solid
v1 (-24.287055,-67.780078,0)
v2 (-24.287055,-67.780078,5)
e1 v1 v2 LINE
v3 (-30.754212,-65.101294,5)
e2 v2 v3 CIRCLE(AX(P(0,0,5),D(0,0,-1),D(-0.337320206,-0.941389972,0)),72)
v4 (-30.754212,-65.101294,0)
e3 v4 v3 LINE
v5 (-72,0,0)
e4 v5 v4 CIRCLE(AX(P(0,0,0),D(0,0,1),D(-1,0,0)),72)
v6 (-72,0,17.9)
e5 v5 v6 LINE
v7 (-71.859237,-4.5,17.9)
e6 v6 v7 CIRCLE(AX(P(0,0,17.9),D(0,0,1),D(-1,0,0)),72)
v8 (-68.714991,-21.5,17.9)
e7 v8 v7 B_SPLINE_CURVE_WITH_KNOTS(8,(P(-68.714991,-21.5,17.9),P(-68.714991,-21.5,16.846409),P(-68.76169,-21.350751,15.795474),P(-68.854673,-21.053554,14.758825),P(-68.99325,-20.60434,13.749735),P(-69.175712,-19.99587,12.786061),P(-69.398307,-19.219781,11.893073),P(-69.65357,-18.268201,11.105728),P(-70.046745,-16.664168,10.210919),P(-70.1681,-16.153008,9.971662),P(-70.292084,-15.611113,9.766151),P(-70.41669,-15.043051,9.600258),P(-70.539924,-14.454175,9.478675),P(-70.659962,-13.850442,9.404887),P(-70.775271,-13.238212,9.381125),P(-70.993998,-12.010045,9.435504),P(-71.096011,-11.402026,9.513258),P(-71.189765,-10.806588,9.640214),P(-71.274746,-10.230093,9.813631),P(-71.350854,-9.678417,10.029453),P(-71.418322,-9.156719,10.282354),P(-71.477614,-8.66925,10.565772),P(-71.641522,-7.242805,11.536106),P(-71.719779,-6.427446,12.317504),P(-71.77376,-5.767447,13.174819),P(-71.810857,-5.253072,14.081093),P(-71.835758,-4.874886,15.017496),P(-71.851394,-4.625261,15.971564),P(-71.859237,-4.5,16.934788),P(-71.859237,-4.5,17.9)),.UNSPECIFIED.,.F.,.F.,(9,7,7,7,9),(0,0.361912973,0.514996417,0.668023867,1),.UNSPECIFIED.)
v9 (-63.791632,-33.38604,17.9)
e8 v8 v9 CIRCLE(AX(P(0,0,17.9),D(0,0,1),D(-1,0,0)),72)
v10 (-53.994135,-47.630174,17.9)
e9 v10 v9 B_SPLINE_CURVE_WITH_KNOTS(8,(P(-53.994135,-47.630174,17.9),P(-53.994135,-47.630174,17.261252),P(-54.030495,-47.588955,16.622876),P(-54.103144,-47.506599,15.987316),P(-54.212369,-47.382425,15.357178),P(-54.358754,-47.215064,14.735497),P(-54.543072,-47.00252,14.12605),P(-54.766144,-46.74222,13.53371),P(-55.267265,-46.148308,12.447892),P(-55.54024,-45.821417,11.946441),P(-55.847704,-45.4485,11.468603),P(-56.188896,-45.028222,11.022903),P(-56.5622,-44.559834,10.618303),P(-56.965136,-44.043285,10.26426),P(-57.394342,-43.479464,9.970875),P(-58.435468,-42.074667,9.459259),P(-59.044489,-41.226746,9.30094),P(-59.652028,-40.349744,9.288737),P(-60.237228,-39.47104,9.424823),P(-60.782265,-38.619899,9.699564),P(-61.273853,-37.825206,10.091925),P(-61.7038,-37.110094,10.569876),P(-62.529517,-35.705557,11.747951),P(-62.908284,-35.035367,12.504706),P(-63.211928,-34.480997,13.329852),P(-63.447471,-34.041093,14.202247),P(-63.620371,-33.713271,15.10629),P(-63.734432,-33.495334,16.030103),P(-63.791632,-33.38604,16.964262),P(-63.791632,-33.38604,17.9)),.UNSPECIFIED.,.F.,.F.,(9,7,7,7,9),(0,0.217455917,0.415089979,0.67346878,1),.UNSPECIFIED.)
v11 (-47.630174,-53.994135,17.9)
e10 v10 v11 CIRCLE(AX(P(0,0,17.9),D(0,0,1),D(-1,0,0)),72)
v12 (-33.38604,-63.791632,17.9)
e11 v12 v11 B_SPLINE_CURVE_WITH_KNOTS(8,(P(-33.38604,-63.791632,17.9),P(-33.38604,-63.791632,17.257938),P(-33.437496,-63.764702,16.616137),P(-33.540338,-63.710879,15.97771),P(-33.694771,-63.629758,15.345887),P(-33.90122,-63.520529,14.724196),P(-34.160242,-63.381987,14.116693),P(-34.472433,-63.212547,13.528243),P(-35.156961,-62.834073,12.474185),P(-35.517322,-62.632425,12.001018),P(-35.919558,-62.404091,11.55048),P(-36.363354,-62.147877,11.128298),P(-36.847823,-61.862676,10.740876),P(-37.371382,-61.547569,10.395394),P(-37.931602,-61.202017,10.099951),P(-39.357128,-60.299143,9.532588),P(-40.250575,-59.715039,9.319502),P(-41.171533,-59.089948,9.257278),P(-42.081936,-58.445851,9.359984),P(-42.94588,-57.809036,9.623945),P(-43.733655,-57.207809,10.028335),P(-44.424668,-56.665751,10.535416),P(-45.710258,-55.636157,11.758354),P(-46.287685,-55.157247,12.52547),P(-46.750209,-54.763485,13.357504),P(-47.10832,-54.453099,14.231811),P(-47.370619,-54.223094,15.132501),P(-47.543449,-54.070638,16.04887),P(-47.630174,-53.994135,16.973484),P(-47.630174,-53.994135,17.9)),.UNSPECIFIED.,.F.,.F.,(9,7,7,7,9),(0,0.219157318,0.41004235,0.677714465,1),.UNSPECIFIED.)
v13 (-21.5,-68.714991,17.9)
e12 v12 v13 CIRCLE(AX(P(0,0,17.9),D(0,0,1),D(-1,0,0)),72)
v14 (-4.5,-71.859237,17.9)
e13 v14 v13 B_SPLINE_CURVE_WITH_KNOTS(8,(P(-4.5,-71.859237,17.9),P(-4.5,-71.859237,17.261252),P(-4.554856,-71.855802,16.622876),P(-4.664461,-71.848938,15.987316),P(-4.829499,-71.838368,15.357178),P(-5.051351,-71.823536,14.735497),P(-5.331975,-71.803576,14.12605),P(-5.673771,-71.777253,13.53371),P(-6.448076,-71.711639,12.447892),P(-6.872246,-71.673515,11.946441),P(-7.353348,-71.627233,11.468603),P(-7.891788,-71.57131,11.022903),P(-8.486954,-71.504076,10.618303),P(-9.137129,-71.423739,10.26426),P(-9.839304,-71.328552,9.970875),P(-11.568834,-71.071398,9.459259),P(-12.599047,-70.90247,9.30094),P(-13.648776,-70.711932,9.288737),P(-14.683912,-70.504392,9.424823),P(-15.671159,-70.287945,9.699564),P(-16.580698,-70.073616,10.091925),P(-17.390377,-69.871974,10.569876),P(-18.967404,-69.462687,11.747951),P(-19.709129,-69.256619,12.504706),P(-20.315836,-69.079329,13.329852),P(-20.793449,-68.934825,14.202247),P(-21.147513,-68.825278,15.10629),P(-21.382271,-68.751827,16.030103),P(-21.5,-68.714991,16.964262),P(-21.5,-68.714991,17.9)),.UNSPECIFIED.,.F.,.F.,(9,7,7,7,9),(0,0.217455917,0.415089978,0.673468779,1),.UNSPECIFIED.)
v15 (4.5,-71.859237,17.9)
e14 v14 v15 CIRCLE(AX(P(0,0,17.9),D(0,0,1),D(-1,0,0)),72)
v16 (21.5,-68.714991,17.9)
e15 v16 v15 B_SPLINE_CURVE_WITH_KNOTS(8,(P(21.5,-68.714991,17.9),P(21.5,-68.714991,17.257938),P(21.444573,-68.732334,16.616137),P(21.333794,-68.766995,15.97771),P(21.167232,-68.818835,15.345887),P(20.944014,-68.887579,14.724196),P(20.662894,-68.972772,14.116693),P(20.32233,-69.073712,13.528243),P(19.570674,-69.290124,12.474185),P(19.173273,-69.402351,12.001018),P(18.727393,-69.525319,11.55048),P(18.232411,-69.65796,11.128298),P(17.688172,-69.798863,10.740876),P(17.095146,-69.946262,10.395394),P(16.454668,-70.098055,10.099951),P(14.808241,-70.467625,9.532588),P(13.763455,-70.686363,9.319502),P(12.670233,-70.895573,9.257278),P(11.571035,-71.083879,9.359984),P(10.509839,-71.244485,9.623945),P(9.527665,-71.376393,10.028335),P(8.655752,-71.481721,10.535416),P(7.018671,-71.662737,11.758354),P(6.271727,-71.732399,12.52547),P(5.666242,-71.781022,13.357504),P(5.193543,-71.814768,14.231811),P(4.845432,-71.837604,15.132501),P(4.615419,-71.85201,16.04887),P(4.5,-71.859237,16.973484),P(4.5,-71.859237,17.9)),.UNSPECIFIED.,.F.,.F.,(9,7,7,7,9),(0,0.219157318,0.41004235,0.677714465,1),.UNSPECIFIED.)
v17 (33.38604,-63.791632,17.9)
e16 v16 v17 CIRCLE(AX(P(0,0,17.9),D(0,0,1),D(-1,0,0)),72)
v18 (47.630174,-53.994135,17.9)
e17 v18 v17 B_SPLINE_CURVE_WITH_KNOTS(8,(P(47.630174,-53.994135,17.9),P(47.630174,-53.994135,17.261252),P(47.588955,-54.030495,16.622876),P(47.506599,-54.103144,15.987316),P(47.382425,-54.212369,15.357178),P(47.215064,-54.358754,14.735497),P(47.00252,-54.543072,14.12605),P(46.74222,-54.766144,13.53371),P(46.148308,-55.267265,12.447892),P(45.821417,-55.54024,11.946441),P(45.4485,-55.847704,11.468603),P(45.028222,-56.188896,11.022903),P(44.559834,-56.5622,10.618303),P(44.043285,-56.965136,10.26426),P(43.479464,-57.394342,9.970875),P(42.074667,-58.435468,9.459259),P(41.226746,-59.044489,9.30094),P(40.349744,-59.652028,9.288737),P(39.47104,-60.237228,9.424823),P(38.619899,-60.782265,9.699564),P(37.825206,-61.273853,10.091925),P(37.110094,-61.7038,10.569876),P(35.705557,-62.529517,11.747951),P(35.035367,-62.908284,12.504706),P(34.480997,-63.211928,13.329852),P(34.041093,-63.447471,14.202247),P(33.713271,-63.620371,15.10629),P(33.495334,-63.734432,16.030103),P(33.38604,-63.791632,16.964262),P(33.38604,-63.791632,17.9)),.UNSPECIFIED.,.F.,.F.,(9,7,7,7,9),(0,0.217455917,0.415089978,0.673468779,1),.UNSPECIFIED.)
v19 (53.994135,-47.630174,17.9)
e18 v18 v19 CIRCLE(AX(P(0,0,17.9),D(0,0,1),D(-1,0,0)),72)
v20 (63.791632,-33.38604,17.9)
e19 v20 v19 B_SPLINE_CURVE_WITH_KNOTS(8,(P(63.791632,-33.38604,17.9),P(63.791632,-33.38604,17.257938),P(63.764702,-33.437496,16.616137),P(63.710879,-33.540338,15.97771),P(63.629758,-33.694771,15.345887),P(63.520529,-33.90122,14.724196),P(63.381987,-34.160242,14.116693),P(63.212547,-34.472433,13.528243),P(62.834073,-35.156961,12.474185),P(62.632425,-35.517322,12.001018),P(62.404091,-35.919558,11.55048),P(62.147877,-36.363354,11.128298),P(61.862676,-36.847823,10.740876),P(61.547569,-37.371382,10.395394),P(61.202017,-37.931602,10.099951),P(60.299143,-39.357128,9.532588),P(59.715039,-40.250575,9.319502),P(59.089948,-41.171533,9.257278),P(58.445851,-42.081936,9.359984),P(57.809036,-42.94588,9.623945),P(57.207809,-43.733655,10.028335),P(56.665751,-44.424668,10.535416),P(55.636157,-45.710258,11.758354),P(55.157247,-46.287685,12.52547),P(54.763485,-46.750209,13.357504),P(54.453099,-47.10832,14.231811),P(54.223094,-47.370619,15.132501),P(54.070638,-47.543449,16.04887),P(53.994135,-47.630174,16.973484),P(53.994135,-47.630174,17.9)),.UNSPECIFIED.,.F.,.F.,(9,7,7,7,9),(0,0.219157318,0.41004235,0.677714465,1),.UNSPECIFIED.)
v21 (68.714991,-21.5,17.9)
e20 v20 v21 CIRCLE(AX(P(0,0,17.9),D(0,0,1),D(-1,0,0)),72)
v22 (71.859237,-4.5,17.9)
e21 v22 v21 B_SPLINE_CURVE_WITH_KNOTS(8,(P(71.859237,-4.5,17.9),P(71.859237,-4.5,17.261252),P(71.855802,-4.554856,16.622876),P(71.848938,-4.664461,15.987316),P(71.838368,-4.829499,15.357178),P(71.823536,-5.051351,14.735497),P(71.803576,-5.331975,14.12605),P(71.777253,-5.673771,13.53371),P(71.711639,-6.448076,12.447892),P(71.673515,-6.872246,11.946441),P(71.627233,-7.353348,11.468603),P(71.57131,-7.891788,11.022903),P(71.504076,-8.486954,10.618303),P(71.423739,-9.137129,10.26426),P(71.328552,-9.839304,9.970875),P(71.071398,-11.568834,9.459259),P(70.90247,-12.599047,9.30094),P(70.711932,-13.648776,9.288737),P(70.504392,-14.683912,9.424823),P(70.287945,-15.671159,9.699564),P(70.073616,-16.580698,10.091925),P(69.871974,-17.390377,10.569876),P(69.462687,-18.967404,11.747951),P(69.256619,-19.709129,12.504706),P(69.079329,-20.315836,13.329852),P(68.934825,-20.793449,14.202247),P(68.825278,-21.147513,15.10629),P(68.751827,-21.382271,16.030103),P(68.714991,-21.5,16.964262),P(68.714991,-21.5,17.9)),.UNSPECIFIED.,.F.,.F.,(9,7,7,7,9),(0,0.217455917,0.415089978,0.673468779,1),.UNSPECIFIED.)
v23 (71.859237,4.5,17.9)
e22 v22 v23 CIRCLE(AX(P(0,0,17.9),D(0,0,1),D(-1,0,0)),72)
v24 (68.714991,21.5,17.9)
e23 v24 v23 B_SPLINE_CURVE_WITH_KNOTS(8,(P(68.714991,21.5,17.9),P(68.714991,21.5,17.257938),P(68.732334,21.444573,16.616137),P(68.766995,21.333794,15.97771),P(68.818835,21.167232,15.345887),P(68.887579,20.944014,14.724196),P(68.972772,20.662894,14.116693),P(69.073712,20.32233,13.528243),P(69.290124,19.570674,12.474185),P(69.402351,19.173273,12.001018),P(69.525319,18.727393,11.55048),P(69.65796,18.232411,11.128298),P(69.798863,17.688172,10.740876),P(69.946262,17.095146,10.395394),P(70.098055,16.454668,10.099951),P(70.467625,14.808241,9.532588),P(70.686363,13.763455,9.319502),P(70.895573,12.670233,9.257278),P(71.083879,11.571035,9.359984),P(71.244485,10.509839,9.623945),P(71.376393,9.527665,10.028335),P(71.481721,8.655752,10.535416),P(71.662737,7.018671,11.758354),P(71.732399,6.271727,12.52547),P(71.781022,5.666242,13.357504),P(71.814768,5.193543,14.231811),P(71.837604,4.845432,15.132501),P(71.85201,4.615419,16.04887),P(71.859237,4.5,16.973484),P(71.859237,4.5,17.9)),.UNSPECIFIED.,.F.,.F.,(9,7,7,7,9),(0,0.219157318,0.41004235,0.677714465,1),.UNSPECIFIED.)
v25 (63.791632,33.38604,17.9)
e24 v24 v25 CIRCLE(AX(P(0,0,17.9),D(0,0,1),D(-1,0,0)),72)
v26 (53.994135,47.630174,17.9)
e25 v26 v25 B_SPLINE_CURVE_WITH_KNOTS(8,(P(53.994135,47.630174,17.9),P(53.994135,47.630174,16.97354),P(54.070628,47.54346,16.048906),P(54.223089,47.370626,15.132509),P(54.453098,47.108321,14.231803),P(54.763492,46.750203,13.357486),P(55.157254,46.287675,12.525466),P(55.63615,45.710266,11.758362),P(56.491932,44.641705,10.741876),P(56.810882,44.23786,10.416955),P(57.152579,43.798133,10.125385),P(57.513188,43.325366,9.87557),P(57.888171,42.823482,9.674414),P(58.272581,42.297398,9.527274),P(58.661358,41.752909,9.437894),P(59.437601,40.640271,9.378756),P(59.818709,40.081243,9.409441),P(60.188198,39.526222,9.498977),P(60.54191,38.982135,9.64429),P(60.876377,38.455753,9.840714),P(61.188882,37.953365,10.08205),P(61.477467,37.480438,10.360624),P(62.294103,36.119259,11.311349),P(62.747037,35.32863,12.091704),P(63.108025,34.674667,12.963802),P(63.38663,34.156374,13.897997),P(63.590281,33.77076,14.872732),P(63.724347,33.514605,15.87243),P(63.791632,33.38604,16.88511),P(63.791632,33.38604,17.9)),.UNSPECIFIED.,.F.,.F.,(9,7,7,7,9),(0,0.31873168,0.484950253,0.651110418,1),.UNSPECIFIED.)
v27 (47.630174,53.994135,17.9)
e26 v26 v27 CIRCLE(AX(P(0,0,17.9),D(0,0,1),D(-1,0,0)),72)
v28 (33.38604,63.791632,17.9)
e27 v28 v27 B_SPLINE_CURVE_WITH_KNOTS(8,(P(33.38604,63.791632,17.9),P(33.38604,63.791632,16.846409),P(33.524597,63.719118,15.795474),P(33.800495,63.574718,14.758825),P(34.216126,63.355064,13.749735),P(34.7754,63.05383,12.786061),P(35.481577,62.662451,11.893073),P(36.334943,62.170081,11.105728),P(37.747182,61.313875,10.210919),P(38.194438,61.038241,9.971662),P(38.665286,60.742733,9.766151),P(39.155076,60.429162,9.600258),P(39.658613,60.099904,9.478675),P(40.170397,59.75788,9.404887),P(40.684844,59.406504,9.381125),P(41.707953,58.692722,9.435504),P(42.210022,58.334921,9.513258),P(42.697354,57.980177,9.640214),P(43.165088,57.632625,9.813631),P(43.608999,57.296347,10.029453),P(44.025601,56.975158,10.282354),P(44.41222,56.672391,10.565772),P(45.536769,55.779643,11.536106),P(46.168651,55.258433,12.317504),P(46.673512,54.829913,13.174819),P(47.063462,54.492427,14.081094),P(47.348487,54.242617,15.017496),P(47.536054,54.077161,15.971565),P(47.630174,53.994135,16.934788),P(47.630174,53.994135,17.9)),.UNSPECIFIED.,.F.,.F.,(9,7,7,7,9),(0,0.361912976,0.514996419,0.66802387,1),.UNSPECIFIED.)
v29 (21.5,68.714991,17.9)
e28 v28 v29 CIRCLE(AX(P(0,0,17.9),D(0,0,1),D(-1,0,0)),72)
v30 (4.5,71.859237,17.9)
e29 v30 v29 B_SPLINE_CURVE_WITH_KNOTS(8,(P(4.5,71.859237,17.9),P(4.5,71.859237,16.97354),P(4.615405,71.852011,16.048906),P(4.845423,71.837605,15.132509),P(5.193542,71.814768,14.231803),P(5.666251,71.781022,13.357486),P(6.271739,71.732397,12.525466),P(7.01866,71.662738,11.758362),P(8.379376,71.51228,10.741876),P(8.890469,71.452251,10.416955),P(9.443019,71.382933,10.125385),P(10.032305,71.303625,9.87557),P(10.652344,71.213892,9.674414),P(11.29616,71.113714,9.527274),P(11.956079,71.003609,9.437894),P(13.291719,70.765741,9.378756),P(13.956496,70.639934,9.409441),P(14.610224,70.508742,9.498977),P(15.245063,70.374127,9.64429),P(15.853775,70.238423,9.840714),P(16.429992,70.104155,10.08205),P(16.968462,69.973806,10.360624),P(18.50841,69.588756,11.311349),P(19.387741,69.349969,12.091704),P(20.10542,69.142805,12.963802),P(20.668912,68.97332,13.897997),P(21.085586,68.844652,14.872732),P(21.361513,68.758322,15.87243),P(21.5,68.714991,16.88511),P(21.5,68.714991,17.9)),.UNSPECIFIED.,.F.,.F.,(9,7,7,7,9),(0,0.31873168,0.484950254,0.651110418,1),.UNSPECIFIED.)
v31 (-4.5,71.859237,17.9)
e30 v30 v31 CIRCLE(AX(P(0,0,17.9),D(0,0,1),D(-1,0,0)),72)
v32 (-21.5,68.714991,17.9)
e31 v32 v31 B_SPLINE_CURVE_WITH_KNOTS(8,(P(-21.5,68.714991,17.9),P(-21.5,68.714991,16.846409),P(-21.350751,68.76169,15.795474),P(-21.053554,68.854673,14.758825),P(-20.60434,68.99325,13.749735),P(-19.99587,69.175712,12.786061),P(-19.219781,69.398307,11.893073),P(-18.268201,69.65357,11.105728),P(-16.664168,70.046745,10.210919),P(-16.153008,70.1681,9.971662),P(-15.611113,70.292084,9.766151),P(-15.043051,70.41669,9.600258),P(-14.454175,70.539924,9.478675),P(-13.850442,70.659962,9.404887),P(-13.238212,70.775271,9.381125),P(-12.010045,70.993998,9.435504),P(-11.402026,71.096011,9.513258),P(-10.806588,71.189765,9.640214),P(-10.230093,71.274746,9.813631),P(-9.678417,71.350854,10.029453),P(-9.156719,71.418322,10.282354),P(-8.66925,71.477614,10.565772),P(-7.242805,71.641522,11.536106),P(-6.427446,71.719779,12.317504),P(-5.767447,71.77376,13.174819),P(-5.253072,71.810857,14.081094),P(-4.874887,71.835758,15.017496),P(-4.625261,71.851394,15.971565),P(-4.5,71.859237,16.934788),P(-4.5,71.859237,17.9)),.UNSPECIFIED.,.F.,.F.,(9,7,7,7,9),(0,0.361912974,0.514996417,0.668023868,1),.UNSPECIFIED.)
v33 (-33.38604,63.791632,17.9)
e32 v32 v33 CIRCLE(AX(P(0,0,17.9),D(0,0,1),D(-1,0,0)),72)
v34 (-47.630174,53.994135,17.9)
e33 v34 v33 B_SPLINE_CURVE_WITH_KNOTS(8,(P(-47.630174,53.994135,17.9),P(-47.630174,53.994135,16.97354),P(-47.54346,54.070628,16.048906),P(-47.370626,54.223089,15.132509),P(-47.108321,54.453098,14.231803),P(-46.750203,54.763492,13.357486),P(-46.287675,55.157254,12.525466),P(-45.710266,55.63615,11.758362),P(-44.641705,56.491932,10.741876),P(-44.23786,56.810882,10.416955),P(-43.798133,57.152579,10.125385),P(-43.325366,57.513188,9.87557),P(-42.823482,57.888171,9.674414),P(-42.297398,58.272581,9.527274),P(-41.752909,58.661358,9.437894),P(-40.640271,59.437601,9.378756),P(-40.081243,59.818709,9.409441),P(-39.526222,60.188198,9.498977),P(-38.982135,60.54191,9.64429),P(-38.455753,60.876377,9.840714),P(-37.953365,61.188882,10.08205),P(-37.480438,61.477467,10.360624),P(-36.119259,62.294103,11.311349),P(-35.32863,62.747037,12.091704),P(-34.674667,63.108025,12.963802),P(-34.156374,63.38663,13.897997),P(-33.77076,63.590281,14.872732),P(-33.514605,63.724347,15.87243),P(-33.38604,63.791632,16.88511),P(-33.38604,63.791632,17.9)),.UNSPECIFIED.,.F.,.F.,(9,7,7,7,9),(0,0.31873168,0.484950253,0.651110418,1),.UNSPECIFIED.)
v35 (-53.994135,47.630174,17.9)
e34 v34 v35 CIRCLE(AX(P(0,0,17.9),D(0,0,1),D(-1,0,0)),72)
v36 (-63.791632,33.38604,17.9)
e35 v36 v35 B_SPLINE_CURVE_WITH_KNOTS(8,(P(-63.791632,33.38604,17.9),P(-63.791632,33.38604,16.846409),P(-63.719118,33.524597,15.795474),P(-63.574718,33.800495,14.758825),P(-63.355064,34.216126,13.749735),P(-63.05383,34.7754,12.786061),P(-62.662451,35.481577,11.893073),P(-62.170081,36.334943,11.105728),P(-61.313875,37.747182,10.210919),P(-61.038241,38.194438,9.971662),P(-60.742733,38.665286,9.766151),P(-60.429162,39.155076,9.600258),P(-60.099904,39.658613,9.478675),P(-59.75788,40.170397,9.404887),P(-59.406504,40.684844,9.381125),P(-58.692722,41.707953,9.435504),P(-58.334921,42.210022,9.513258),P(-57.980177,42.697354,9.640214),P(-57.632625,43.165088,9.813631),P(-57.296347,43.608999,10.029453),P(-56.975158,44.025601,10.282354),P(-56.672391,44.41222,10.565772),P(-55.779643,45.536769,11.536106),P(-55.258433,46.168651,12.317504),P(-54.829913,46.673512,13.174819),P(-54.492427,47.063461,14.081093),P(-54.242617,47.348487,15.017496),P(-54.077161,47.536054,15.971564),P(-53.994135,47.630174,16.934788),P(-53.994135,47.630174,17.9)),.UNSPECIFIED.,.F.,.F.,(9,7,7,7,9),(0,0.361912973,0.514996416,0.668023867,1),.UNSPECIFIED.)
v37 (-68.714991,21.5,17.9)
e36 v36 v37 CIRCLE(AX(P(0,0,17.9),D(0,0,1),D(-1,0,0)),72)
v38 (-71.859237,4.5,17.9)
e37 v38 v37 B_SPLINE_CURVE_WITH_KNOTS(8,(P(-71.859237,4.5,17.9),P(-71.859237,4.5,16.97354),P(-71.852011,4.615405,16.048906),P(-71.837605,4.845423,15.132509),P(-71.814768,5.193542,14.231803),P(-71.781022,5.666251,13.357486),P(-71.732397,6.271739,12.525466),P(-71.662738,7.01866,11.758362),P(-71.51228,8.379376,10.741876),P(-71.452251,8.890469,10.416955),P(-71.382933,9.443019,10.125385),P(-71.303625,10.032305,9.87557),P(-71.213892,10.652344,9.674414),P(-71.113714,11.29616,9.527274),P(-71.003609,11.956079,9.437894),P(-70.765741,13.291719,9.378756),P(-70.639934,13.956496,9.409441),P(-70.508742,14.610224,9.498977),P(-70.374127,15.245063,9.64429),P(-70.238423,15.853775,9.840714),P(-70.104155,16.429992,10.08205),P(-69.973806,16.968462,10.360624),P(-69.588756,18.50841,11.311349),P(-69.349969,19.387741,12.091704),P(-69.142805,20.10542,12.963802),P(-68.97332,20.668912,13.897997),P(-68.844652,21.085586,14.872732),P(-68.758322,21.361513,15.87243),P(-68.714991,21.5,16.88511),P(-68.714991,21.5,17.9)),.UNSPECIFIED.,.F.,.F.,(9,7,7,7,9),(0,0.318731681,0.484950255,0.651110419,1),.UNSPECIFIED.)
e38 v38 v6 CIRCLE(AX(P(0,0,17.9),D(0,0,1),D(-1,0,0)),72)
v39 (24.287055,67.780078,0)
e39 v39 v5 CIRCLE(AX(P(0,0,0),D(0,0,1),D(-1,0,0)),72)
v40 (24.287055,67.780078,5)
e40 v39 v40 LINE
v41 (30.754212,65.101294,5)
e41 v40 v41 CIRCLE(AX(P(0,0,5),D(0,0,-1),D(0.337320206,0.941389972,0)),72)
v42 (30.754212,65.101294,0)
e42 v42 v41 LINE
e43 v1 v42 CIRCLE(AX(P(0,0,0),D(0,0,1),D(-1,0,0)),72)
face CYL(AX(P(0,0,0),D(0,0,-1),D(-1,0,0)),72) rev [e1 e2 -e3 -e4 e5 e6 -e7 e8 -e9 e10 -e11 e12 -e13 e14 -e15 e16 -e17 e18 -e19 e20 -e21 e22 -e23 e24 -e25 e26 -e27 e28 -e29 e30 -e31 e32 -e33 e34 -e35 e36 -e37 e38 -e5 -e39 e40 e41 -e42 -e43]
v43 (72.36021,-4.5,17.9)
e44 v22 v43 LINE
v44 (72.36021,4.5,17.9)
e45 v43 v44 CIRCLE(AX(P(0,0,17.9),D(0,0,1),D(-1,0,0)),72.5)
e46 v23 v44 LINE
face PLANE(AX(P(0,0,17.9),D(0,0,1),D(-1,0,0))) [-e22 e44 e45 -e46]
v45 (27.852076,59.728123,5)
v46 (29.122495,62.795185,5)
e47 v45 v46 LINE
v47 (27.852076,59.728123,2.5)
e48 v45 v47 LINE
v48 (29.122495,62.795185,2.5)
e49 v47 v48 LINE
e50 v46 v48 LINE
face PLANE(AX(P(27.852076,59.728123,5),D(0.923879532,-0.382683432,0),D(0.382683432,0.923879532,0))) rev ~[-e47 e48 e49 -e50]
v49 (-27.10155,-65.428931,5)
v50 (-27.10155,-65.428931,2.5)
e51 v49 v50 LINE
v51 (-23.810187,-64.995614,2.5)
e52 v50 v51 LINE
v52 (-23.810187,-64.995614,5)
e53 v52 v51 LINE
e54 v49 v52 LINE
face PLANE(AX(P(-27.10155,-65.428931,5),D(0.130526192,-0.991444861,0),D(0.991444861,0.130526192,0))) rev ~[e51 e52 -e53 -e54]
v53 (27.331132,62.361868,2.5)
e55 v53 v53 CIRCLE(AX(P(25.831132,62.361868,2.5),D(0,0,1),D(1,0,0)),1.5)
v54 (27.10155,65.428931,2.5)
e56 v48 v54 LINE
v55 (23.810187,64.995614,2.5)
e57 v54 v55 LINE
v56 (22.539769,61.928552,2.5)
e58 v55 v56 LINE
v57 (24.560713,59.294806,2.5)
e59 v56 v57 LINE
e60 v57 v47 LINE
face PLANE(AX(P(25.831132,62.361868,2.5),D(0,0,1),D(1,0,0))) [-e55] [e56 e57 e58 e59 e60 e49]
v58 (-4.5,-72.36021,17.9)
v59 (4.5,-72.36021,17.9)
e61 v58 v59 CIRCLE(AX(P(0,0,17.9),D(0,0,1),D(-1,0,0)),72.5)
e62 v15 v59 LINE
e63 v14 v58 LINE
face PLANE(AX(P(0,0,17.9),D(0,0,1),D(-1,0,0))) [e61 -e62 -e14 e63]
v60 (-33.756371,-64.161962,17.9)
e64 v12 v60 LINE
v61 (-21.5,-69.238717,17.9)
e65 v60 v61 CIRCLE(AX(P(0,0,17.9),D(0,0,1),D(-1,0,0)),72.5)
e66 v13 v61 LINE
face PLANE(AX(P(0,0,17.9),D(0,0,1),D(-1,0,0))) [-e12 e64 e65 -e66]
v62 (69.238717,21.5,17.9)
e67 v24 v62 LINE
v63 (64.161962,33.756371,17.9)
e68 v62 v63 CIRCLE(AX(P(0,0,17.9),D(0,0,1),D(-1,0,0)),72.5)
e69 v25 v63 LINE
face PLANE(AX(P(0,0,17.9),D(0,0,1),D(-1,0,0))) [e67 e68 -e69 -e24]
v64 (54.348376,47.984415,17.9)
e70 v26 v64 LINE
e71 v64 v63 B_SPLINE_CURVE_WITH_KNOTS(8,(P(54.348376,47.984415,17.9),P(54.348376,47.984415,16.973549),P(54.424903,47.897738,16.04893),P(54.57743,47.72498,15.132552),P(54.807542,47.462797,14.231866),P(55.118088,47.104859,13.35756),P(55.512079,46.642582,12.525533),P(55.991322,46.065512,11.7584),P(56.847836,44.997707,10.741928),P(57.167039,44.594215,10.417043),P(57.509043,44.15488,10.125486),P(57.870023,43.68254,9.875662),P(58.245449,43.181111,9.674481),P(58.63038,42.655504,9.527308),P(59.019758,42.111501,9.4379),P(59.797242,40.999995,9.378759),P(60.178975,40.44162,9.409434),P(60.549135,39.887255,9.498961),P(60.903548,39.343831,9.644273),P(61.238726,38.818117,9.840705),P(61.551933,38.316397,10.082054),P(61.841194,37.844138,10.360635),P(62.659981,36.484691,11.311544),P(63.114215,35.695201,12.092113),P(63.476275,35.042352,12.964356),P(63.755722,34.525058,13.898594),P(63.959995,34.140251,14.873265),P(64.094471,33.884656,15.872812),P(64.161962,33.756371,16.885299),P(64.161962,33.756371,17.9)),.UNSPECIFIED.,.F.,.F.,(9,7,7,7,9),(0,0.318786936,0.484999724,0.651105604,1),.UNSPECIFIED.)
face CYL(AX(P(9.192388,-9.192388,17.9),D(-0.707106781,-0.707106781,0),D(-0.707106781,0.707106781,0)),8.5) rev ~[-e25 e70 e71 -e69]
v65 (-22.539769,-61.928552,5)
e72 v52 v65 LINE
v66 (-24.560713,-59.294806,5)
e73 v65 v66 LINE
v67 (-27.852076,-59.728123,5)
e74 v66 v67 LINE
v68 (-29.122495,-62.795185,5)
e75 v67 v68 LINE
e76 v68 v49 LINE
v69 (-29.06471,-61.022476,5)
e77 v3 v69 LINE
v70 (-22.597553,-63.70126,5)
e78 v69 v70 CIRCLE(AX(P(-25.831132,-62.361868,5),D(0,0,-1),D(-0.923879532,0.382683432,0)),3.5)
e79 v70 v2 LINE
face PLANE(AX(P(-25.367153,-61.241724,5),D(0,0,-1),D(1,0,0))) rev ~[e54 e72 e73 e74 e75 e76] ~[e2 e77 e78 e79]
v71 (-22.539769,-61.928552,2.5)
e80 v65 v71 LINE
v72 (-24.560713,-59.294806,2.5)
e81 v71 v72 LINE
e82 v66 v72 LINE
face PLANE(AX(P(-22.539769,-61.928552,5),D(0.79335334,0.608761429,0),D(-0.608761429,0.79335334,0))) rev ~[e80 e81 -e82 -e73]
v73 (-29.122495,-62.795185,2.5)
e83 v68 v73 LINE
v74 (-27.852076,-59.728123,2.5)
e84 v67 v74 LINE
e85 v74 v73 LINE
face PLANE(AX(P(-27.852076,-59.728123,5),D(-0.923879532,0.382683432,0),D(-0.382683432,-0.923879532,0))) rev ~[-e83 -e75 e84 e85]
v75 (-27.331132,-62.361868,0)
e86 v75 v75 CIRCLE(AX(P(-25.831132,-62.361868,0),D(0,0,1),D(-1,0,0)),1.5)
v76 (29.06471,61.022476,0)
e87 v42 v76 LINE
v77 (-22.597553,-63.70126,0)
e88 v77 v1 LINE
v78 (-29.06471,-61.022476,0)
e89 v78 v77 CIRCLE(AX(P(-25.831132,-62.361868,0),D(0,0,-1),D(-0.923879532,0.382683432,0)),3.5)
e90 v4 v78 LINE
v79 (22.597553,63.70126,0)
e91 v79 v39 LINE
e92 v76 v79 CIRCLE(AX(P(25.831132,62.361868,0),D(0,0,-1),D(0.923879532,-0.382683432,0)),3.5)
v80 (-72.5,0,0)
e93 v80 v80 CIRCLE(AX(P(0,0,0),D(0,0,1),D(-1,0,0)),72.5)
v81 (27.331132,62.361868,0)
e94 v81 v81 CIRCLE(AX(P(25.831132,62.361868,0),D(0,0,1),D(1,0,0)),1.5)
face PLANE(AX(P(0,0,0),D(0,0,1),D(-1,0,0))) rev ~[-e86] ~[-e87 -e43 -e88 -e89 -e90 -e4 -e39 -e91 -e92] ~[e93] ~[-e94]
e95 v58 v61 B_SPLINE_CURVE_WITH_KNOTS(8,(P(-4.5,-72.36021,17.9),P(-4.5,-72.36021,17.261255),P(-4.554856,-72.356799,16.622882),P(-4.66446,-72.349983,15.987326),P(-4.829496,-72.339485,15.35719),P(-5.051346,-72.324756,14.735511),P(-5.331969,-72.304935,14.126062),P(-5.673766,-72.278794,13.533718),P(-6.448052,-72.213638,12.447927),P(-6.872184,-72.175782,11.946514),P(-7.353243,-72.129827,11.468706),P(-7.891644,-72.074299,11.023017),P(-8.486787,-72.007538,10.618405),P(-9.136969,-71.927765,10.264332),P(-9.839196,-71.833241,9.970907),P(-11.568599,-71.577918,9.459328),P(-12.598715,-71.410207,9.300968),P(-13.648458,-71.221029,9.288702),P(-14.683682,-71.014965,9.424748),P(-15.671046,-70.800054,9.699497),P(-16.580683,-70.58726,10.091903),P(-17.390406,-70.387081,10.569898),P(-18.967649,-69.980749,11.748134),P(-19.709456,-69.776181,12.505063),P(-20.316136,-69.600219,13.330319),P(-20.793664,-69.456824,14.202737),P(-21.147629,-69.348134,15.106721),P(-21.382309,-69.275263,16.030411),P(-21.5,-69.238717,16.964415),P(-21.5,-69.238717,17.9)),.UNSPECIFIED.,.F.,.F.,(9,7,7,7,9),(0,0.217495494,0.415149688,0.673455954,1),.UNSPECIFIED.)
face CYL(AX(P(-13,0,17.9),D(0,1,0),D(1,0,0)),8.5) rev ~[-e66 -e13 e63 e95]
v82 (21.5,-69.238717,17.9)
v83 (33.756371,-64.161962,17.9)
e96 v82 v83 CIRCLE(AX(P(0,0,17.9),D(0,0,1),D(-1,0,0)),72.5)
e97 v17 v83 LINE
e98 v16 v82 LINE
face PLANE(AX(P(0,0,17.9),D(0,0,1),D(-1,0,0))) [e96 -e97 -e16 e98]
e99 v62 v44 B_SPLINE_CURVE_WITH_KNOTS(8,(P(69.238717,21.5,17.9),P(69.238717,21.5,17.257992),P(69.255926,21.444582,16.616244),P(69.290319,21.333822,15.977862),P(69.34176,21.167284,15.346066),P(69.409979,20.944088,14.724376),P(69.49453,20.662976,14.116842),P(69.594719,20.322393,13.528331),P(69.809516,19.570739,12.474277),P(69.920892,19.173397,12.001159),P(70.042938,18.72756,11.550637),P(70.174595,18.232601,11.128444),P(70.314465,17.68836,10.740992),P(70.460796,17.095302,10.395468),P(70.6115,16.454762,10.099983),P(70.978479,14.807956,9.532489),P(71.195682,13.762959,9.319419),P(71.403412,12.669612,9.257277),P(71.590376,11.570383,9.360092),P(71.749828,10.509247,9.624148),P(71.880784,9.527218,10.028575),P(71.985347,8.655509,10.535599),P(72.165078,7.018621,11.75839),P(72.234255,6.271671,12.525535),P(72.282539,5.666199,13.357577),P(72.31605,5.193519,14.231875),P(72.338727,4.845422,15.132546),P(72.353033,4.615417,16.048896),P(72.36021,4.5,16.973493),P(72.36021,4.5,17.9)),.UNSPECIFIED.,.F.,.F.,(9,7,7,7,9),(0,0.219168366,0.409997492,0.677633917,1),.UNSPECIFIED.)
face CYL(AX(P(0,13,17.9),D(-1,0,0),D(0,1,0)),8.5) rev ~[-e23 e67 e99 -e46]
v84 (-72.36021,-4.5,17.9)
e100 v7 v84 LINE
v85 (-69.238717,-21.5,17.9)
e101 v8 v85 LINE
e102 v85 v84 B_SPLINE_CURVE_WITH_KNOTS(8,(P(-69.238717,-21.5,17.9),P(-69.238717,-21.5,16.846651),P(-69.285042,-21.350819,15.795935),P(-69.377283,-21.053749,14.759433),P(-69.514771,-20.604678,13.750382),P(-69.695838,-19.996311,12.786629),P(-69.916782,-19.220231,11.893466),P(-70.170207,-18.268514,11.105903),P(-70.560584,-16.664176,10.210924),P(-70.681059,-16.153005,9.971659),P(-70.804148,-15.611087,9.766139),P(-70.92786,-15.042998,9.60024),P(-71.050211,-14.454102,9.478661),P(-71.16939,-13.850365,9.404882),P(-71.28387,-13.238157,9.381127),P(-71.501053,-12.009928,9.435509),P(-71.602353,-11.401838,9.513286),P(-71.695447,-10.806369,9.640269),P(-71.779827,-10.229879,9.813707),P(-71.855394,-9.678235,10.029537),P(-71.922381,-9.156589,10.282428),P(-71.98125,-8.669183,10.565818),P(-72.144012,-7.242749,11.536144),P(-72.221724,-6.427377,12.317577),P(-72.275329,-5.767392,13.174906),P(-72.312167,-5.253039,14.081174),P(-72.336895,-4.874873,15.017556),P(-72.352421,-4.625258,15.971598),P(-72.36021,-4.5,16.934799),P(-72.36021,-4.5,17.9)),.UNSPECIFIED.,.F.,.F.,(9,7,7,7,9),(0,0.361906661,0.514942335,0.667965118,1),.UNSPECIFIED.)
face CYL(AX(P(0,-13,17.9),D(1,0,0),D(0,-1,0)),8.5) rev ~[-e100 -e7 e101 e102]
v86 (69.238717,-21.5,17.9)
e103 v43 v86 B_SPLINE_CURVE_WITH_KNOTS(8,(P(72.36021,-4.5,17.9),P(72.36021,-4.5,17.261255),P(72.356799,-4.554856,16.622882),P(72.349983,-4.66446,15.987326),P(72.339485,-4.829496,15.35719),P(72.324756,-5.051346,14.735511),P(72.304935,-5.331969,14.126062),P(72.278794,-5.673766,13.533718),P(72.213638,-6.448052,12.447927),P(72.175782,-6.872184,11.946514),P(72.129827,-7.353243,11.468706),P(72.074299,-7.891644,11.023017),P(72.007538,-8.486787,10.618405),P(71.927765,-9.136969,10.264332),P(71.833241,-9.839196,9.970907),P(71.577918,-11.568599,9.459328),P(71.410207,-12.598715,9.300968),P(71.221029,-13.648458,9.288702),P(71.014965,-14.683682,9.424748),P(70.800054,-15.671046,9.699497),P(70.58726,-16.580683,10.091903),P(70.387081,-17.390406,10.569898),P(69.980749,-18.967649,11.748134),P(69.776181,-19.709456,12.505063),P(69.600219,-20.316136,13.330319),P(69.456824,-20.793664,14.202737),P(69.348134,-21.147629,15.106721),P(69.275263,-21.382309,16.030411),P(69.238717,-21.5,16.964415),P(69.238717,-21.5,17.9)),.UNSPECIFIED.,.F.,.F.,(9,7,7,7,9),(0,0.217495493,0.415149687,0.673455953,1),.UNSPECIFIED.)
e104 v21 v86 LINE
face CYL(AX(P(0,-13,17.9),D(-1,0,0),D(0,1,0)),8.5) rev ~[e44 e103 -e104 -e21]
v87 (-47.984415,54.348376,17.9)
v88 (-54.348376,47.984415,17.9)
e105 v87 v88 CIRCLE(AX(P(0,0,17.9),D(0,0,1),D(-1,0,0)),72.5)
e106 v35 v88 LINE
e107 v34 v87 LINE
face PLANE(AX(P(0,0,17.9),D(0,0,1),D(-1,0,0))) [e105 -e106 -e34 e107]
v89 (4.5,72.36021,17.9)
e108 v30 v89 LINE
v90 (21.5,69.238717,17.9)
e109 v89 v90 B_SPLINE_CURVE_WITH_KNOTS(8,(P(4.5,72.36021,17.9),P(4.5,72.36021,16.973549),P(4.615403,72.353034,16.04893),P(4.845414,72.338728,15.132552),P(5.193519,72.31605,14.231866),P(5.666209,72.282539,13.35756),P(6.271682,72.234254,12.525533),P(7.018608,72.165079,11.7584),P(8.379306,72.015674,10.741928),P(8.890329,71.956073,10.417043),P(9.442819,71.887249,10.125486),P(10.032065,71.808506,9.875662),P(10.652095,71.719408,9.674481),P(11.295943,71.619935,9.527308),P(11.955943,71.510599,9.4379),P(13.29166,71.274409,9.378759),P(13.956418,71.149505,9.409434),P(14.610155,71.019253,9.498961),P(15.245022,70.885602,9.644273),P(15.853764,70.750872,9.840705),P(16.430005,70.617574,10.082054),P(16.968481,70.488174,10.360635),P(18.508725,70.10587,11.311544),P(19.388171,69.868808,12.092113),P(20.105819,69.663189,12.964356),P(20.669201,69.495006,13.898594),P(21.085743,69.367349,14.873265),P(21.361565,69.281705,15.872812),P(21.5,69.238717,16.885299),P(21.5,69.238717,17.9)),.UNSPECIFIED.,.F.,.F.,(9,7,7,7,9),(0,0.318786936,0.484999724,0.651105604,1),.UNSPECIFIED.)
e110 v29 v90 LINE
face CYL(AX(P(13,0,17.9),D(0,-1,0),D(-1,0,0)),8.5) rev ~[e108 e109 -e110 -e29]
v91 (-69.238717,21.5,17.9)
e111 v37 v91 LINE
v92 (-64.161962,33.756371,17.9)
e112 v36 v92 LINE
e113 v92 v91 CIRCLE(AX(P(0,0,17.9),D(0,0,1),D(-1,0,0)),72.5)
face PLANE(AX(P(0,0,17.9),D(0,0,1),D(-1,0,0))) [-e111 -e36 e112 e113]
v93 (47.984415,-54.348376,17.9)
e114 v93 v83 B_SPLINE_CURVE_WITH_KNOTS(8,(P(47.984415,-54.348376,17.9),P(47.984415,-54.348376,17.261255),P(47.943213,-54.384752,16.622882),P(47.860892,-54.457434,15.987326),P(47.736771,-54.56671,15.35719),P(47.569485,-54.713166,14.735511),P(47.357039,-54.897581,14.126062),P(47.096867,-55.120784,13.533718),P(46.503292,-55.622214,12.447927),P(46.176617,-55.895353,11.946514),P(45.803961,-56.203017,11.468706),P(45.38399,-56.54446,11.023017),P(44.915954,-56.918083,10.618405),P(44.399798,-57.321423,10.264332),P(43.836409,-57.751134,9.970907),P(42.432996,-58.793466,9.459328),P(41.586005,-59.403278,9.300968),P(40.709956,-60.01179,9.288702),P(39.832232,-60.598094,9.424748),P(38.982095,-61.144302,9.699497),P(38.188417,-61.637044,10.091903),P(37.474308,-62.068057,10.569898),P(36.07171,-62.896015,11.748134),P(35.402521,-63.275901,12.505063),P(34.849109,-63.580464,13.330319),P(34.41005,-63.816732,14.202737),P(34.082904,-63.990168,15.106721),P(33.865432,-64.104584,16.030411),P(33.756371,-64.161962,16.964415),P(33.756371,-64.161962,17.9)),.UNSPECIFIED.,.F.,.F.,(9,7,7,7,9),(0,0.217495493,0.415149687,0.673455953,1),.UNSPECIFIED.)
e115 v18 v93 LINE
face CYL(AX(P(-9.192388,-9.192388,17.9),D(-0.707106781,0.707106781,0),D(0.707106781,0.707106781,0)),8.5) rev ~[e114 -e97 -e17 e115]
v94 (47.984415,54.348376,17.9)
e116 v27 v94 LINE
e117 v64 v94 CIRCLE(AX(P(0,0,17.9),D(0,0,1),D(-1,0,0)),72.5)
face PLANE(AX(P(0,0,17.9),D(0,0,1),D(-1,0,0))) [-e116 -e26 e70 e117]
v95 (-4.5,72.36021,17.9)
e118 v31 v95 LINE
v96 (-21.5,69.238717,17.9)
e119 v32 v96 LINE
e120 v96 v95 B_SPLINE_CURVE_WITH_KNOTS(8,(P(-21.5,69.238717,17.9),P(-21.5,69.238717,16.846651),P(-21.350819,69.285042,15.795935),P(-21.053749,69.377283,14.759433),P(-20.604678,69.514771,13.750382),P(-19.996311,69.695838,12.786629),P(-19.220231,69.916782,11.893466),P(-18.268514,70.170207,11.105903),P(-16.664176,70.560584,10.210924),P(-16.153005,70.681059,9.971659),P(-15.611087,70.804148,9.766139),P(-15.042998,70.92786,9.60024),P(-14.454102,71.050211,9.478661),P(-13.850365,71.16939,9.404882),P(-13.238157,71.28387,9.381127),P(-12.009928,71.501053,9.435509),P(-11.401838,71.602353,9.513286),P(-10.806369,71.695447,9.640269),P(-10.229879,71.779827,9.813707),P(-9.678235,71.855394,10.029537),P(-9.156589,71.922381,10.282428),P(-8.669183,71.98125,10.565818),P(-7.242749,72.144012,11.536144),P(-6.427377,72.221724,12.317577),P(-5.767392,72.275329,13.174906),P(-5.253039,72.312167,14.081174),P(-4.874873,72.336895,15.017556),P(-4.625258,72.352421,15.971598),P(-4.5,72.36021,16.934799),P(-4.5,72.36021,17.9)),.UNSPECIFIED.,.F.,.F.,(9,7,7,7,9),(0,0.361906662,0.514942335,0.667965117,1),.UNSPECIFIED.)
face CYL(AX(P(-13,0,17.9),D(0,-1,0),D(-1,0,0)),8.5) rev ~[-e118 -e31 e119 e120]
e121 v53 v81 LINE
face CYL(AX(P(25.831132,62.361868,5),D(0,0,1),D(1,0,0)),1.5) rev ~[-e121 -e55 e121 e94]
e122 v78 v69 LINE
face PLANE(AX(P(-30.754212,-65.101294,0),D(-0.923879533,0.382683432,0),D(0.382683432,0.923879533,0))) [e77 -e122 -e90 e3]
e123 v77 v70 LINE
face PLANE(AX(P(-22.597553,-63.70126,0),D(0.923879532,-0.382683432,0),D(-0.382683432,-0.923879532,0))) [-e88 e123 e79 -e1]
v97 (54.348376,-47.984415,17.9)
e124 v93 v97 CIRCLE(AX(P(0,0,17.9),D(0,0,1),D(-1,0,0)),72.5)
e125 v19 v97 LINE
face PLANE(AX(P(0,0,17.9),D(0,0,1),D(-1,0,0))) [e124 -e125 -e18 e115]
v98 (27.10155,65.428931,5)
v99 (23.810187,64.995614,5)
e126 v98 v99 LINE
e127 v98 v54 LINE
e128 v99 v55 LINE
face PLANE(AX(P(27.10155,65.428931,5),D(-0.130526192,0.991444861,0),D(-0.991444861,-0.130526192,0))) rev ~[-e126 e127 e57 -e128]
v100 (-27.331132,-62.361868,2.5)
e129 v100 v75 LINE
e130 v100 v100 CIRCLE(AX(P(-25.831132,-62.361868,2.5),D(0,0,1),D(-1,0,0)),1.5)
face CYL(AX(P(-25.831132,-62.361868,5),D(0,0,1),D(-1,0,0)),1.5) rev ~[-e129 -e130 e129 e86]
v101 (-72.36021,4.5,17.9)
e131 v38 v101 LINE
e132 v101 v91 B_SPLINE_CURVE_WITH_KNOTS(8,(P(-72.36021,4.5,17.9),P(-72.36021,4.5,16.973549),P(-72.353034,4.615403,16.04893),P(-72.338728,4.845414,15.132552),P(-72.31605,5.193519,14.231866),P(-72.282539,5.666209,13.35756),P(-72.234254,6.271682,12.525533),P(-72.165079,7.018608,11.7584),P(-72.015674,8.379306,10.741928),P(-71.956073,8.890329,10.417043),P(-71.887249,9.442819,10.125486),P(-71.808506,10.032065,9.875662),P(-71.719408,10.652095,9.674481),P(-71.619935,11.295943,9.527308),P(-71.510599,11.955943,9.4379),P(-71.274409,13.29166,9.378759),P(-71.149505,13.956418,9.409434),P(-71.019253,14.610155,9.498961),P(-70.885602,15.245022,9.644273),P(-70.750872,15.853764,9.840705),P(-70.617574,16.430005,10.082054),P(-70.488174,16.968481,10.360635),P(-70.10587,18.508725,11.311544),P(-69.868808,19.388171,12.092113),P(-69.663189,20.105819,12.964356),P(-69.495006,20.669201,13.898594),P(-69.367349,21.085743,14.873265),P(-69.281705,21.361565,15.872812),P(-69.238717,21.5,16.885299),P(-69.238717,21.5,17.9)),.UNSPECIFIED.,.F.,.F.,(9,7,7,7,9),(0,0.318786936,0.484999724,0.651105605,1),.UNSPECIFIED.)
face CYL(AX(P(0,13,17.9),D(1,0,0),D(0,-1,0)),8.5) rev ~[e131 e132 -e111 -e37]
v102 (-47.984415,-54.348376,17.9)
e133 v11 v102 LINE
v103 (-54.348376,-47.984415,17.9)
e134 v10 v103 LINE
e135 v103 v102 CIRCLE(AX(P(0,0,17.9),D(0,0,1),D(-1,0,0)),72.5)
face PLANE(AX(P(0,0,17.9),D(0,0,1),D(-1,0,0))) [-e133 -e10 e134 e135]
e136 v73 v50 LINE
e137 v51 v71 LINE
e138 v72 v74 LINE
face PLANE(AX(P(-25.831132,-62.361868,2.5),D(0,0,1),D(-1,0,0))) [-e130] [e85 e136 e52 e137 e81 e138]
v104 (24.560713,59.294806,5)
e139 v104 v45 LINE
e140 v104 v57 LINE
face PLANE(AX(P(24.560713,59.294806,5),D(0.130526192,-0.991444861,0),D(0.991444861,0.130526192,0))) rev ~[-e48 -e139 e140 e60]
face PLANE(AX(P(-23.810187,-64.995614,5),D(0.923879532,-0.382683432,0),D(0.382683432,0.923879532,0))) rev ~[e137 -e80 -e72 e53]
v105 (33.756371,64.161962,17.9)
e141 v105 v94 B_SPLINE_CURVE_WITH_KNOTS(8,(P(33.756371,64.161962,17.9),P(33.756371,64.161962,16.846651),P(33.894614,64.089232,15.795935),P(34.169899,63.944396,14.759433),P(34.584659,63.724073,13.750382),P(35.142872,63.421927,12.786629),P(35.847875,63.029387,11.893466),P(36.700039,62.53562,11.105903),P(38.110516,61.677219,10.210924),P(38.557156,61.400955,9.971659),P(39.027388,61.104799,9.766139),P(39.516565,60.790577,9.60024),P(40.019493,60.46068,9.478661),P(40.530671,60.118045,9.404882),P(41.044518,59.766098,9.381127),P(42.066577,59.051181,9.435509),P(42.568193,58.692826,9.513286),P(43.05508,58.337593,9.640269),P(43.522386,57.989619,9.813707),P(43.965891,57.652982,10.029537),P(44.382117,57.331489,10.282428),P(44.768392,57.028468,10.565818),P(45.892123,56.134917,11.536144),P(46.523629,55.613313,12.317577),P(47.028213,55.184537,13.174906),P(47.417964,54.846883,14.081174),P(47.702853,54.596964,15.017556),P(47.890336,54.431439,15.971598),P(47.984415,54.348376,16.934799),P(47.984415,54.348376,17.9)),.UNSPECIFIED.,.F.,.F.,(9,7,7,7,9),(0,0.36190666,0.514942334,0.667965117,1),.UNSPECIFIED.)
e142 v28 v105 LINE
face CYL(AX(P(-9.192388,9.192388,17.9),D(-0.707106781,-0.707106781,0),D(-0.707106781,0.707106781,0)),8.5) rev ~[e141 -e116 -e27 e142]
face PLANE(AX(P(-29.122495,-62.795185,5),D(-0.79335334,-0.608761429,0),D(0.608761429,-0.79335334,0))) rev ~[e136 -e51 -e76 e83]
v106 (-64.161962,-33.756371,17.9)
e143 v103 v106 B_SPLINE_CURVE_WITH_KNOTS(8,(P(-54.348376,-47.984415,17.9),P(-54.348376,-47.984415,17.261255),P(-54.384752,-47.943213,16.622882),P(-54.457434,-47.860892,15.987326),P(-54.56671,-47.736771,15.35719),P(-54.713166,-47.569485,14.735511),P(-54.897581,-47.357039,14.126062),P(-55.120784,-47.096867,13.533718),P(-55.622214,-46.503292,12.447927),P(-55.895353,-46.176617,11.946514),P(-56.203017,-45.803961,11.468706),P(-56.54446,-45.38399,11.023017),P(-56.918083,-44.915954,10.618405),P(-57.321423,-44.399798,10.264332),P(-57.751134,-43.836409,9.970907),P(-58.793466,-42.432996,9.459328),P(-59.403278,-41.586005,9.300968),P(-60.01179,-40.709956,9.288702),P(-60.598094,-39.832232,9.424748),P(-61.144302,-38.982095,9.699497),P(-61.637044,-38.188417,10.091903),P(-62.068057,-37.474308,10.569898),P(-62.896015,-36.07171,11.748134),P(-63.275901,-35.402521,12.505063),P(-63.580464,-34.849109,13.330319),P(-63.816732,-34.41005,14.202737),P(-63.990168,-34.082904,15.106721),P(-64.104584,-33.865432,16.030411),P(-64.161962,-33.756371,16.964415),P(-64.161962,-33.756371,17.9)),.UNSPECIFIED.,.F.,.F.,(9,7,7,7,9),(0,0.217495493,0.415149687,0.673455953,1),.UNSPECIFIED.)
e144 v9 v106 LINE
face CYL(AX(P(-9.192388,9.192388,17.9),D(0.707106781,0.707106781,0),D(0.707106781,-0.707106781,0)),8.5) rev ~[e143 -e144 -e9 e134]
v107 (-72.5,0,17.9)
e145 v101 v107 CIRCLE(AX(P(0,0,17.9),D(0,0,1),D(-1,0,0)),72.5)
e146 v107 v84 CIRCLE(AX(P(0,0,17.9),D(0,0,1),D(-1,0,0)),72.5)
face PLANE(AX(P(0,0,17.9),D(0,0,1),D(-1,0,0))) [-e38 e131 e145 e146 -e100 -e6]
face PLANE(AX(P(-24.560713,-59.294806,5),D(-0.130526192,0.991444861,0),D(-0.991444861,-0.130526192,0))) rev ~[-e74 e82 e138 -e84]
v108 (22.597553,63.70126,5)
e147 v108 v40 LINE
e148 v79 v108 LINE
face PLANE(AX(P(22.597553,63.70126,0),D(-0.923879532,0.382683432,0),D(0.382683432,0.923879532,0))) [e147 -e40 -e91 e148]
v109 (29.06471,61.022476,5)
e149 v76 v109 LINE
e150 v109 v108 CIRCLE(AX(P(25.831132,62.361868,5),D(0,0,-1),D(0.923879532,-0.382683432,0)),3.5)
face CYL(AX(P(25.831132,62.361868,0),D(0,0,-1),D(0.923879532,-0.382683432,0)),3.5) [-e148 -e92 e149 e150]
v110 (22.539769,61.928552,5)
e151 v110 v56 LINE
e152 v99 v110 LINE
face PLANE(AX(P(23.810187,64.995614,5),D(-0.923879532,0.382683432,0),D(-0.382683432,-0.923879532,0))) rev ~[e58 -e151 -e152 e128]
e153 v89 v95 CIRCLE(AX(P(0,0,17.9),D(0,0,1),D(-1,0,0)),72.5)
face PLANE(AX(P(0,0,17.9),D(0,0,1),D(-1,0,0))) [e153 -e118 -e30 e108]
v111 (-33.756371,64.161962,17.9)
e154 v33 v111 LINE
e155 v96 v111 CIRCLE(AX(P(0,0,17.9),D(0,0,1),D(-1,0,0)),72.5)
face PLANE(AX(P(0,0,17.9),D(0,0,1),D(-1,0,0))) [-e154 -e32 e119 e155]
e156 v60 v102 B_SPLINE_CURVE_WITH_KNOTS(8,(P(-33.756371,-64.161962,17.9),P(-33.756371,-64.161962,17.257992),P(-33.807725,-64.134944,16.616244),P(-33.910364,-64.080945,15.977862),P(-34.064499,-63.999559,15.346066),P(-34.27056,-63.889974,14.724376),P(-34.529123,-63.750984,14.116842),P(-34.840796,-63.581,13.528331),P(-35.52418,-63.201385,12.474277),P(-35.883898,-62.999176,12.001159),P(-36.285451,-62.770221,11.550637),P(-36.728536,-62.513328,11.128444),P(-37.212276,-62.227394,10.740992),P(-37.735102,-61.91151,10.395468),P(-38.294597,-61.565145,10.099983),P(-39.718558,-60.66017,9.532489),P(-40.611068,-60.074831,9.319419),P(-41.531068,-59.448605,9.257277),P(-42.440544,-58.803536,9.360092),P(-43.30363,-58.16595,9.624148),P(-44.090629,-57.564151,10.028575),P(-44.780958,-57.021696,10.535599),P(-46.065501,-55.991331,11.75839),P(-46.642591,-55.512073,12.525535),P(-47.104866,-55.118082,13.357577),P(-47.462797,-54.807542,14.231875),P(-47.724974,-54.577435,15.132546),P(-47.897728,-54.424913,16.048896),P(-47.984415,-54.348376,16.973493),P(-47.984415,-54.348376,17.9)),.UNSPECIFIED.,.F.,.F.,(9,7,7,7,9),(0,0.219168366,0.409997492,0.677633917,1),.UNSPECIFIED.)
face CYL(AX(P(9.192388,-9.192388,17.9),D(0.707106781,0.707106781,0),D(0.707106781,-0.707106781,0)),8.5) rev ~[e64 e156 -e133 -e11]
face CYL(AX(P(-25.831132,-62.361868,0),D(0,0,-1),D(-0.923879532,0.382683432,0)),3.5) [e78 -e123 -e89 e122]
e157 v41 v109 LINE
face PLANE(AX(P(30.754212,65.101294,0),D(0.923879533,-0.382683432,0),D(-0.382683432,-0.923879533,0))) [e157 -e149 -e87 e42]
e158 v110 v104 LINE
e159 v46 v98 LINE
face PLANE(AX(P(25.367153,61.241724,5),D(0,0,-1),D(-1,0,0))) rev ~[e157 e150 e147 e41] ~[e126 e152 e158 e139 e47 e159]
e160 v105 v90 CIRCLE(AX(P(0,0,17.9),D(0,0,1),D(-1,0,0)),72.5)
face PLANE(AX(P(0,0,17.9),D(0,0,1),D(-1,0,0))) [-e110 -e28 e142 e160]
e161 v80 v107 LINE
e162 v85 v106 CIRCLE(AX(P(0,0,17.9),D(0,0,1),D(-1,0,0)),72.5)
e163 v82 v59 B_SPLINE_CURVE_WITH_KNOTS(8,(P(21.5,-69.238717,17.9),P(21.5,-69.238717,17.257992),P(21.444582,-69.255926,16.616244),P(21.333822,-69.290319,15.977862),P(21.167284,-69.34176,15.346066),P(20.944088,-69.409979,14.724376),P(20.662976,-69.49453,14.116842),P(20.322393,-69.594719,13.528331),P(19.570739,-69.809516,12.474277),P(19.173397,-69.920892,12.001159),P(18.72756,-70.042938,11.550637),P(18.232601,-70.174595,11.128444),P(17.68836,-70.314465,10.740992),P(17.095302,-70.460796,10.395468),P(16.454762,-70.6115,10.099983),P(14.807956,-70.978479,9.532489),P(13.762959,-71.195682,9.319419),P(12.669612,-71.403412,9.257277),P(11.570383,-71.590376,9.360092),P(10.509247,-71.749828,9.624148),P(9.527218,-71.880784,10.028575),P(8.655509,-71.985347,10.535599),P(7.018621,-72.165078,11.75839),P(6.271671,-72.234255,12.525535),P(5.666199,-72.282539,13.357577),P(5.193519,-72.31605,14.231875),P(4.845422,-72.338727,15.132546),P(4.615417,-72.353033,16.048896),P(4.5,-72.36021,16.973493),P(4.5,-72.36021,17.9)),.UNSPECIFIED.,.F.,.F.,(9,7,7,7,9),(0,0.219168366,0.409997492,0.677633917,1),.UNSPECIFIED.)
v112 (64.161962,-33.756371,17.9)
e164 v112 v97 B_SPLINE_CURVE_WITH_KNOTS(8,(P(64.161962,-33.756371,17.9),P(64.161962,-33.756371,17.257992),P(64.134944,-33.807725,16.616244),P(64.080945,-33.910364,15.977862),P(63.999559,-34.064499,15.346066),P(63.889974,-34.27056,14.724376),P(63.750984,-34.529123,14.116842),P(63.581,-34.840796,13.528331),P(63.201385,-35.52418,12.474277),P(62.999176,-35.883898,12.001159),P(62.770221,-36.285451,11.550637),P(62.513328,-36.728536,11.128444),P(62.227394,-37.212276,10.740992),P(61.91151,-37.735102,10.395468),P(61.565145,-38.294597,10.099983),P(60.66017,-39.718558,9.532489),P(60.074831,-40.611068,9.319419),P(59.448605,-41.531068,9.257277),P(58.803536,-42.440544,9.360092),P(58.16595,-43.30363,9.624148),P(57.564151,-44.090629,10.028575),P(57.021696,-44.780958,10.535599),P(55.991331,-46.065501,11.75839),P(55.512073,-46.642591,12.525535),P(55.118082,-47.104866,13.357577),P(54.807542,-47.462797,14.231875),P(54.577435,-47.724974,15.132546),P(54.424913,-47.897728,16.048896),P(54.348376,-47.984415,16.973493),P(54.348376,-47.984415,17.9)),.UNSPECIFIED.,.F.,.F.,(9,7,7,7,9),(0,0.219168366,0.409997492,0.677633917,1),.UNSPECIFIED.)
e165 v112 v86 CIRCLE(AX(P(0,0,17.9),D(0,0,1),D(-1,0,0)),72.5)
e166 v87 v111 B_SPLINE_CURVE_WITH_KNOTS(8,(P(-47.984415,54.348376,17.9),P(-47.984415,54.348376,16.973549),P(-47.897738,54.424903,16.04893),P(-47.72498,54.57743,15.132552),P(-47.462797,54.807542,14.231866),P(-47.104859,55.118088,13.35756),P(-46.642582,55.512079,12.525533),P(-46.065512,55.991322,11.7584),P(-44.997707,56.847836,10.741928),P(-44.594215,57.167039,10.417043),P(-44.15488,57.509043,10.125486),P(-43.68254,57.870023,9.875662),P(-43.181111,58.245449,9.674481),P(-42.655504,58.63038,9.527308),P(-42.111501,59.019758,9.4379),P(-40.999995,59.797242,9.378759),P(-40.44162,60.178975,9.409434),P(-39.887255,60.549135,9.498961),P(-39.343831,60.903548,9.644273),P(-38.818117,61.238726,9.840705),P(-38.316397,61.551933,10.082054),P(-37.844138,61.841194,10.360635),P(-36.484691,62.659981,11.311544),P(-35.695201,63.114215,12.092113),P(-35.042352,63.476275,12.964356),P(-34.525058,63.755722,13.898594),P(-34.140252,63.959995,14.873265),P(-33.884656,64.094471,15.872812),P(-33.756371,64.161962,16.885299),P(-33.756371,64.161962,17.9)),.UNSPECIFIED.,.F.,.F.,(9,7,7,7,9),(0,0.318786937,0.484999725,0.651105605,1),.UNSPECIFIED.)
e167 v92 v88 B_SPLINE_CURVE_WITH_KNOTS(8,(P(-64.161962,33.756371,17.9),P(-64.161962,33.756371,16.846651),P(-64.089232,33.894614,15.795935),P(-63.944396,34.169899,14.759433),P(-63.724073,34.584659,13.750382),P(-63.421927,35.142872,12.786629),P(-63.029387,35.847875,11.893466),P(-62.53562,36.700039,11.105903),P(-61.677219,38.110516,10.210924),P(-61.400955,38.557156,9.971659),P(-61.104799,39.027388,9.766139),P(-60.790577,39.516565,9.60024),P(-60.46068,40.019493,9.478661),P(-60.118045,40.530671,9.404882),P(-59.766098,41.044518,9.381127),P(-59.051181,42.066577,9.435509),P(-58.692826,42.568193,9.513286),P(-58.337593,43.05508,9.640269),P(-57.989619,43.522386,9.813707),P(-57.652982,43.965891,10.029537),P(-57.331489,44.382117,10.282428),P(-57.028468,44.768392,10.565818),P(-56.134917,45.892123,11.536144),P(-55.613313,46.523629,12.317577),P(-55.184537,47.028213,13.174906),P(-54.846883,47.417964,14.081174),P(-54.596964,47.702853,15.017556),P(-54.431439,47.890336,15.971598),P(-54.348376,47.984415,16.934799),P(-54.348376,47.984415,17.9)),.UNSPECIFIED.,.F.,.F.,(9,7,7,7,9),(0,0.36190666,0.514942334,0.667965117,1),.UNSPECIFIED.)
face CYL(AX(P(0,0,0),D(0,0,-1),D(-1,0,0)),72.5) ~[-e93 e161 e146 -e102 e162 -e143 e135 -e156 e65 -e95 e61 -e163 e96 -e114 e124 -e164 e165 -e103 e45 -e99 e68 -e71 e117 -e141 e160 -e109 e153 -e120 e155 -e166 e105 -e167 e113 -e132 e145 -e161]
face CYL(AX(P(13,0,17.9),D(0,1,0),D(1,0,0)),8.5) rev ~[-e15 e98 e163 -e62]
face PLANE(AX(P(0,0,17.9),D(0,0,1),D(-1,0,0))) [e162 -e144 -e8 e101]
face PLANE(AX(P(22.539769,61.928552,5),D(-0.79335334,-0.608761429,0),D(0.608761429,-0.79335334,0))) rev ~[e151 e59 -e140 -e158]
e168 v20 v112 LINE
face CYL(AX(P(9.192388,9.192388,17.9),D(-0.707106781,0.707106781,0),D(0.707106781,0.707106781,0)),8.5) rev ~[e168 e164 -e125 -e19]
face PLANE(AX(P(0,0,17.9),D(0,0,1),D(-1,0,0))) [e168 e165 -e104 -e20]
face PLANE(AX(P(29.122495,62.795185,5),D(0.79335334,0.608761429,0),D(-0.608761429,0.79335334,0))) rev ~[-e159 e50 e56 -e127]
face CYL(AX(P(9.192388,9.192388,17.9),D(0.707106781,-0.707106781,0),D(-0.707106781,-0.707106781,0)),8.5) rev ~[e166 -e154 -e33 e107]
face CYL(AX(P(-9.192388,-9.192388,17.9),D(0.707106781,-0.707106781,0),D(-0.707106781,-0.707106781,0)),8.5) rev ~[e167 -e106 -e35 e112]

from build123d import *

# Parameters (mm, degrees)
SKIZZE4_R            = 72.5
SKIZZE4_R_2          = 72
BASE_RING_DEPTH      = 17.9
ULTRASONIC_CUT_DEPTH = 105.081266326
ROTATION_I_COUNT     = 8
SCREW_BASE_DEPTH     = 5
SKIZZE7_R            = 1.5
SCREW_CENTER_DEPTH   = 104.338811836
SKIZZE7_3_R          = 1.5
HEX_NUT_DEPTH        = 2.5
KREISMUSTER2_COUNT   = 2


with BuildPart() as part:
    # Skizze4 → Base Ring (new body)
    with BuildSketch(Plane.XY):
        with Locations(Location((0, 0, 0), (0, 0, 180))):
            Circle(SKIZZE4_R)
        with Locations(Location((0, 0, 0), (0, 0, 180))):
            Circle(SKIZZE4_R_2, mode=Mode.SUBTRACT)
    extrude(amount=BASE_RING_DEPTH)

    # Skizze5 → Ultrasonic Cut (cut, through all)
    with BuildSketch(Plane(origin=(0, 0, 0), x_dir=(0, 0, -1), z_dir=(1, 0, 0))):
        with BuildLine():
            Line((-17.9, 4.5), (-48.848327202, 4.5))
            Line((-48.848327202, 4.5), (-48.848327202, 21.5))
            Line((-48.848327202, 21.5), (-17.9, 21.5))
            ThreePointArc((-17.9, 21.5), (-9.4, 13), (-17.9, 4.5))
        make_face()
        with BuildLine():
            Line((-17.9, -21.5), (-48.848327202, -21.5))
            Line((-48.848327202, -21.5), (-48.848327202, -4.5))
            Line((-48.848327202, -4.5), (-17.9, -4.5))
            ThreePointArc((-17.9, -4.5), (-9.4, -13), (-17.9, -21.5))
        make_face()
    ultrasonic_cut = extrude(amount=ULTRASONIC_CUT_DEPTH, mode=Mode.SUBTRACT)

    # Rotation I: Ultrasonic Cut ×8 about axis
    rotation_i_axis = Axis((0, 0, 17.9), (0, 0, -1))
    for i in range(1, ROTATION_I_COUNT):
        add(ultrasonic_cut.rotate(rotation_i_axis, i * 360 / ROTATION_I_COUNT), mode=Mode.SUBTRACT)

    # Skizze6 → Screw Base (add)
    with BuildSketch(Plane.XY):
        with BuildLine():
            Line((22.597553321, 63.701260458), (29.064710048, 61.022476431))
            ThreePointArc((29.064710048, 61.022476431), (24.491739671, 59.128290081), (22.597553321, 63.701260458))
        make_face()
        with BuildLine():
            ThreePointArc((24.287054845, 67.78007795), (27.55320713, 66.519326341), (30.754211572, 65.101293924))
            Line((30.754211572, 65.101293924), (29.064710048, 61.022476431))
            Line((29.064710048, 61.022476431), (22.597553321, 63.701260458))
            Line((22.597553321, 63.701260458), (24.287054845, 67.78007795))
        make_face()
    screw_base = extrude(amount=SCREW_BASE_DEPTH)

    # Skizze7 → Screw Center (cut, through all)
    with BuildSketch(Plane.XY.offset(5)):
        with Locations((25.831131685, 62.361868445)):
            Circle(SKIZZE7_R)
    screw_center = extrude(amount=-SCREW_CENTER_DEPTH, mode=Mode.SUBTRACT)

    # Skizze7<3> → Hex Nut (cut)
    with BuildSketch(Plane.XY.offset(5)):
        Polygon((29.122494691, 62.795184605), (27.101550385, 65.428930501), (23.810187379, 64.995614341), (22.539768678, 61.928552284), (24.560712984, 59.294806388), (27.85207599, 59.728122548), align=None)
        with Locations((25.831131685, 62.361868445)):
            Circle(SKIZZE7_3_R, mode=Mode.SUBTRACT)
    hex_nut = extrude(amount=-HEX_NUT_DEPTH, mode=Mode.SUBTRACT)

    # Kreismuster2: Screw Base, Screw Center, Hex Nut ×2 about axis
    kreismuster2_axis = Axis((0, 0, 0), (0, 0, 1))
    add([screw_base.rotate(kreismuster2_axis, i * 360 / KREISMUSTER2_COUNT) for i in range(1, KREISMUSTER2_COUNT)])
    add([screw_center.rotate(kreismuster2_axis, i * 360 / KREISMUSTER2_COUNT) for i in range(1, KREISMUSTER2_COUNT)], mode=Mode.SUBTRACT)
    add([hex_nut.rotate(kreismuster2_axis, i * 360 / KREISMUSTER2_COUNT) for i in range(1, KREISMUSTER2_COUNT)], mode=Mode.SUBTRACT)


solid = part.part
